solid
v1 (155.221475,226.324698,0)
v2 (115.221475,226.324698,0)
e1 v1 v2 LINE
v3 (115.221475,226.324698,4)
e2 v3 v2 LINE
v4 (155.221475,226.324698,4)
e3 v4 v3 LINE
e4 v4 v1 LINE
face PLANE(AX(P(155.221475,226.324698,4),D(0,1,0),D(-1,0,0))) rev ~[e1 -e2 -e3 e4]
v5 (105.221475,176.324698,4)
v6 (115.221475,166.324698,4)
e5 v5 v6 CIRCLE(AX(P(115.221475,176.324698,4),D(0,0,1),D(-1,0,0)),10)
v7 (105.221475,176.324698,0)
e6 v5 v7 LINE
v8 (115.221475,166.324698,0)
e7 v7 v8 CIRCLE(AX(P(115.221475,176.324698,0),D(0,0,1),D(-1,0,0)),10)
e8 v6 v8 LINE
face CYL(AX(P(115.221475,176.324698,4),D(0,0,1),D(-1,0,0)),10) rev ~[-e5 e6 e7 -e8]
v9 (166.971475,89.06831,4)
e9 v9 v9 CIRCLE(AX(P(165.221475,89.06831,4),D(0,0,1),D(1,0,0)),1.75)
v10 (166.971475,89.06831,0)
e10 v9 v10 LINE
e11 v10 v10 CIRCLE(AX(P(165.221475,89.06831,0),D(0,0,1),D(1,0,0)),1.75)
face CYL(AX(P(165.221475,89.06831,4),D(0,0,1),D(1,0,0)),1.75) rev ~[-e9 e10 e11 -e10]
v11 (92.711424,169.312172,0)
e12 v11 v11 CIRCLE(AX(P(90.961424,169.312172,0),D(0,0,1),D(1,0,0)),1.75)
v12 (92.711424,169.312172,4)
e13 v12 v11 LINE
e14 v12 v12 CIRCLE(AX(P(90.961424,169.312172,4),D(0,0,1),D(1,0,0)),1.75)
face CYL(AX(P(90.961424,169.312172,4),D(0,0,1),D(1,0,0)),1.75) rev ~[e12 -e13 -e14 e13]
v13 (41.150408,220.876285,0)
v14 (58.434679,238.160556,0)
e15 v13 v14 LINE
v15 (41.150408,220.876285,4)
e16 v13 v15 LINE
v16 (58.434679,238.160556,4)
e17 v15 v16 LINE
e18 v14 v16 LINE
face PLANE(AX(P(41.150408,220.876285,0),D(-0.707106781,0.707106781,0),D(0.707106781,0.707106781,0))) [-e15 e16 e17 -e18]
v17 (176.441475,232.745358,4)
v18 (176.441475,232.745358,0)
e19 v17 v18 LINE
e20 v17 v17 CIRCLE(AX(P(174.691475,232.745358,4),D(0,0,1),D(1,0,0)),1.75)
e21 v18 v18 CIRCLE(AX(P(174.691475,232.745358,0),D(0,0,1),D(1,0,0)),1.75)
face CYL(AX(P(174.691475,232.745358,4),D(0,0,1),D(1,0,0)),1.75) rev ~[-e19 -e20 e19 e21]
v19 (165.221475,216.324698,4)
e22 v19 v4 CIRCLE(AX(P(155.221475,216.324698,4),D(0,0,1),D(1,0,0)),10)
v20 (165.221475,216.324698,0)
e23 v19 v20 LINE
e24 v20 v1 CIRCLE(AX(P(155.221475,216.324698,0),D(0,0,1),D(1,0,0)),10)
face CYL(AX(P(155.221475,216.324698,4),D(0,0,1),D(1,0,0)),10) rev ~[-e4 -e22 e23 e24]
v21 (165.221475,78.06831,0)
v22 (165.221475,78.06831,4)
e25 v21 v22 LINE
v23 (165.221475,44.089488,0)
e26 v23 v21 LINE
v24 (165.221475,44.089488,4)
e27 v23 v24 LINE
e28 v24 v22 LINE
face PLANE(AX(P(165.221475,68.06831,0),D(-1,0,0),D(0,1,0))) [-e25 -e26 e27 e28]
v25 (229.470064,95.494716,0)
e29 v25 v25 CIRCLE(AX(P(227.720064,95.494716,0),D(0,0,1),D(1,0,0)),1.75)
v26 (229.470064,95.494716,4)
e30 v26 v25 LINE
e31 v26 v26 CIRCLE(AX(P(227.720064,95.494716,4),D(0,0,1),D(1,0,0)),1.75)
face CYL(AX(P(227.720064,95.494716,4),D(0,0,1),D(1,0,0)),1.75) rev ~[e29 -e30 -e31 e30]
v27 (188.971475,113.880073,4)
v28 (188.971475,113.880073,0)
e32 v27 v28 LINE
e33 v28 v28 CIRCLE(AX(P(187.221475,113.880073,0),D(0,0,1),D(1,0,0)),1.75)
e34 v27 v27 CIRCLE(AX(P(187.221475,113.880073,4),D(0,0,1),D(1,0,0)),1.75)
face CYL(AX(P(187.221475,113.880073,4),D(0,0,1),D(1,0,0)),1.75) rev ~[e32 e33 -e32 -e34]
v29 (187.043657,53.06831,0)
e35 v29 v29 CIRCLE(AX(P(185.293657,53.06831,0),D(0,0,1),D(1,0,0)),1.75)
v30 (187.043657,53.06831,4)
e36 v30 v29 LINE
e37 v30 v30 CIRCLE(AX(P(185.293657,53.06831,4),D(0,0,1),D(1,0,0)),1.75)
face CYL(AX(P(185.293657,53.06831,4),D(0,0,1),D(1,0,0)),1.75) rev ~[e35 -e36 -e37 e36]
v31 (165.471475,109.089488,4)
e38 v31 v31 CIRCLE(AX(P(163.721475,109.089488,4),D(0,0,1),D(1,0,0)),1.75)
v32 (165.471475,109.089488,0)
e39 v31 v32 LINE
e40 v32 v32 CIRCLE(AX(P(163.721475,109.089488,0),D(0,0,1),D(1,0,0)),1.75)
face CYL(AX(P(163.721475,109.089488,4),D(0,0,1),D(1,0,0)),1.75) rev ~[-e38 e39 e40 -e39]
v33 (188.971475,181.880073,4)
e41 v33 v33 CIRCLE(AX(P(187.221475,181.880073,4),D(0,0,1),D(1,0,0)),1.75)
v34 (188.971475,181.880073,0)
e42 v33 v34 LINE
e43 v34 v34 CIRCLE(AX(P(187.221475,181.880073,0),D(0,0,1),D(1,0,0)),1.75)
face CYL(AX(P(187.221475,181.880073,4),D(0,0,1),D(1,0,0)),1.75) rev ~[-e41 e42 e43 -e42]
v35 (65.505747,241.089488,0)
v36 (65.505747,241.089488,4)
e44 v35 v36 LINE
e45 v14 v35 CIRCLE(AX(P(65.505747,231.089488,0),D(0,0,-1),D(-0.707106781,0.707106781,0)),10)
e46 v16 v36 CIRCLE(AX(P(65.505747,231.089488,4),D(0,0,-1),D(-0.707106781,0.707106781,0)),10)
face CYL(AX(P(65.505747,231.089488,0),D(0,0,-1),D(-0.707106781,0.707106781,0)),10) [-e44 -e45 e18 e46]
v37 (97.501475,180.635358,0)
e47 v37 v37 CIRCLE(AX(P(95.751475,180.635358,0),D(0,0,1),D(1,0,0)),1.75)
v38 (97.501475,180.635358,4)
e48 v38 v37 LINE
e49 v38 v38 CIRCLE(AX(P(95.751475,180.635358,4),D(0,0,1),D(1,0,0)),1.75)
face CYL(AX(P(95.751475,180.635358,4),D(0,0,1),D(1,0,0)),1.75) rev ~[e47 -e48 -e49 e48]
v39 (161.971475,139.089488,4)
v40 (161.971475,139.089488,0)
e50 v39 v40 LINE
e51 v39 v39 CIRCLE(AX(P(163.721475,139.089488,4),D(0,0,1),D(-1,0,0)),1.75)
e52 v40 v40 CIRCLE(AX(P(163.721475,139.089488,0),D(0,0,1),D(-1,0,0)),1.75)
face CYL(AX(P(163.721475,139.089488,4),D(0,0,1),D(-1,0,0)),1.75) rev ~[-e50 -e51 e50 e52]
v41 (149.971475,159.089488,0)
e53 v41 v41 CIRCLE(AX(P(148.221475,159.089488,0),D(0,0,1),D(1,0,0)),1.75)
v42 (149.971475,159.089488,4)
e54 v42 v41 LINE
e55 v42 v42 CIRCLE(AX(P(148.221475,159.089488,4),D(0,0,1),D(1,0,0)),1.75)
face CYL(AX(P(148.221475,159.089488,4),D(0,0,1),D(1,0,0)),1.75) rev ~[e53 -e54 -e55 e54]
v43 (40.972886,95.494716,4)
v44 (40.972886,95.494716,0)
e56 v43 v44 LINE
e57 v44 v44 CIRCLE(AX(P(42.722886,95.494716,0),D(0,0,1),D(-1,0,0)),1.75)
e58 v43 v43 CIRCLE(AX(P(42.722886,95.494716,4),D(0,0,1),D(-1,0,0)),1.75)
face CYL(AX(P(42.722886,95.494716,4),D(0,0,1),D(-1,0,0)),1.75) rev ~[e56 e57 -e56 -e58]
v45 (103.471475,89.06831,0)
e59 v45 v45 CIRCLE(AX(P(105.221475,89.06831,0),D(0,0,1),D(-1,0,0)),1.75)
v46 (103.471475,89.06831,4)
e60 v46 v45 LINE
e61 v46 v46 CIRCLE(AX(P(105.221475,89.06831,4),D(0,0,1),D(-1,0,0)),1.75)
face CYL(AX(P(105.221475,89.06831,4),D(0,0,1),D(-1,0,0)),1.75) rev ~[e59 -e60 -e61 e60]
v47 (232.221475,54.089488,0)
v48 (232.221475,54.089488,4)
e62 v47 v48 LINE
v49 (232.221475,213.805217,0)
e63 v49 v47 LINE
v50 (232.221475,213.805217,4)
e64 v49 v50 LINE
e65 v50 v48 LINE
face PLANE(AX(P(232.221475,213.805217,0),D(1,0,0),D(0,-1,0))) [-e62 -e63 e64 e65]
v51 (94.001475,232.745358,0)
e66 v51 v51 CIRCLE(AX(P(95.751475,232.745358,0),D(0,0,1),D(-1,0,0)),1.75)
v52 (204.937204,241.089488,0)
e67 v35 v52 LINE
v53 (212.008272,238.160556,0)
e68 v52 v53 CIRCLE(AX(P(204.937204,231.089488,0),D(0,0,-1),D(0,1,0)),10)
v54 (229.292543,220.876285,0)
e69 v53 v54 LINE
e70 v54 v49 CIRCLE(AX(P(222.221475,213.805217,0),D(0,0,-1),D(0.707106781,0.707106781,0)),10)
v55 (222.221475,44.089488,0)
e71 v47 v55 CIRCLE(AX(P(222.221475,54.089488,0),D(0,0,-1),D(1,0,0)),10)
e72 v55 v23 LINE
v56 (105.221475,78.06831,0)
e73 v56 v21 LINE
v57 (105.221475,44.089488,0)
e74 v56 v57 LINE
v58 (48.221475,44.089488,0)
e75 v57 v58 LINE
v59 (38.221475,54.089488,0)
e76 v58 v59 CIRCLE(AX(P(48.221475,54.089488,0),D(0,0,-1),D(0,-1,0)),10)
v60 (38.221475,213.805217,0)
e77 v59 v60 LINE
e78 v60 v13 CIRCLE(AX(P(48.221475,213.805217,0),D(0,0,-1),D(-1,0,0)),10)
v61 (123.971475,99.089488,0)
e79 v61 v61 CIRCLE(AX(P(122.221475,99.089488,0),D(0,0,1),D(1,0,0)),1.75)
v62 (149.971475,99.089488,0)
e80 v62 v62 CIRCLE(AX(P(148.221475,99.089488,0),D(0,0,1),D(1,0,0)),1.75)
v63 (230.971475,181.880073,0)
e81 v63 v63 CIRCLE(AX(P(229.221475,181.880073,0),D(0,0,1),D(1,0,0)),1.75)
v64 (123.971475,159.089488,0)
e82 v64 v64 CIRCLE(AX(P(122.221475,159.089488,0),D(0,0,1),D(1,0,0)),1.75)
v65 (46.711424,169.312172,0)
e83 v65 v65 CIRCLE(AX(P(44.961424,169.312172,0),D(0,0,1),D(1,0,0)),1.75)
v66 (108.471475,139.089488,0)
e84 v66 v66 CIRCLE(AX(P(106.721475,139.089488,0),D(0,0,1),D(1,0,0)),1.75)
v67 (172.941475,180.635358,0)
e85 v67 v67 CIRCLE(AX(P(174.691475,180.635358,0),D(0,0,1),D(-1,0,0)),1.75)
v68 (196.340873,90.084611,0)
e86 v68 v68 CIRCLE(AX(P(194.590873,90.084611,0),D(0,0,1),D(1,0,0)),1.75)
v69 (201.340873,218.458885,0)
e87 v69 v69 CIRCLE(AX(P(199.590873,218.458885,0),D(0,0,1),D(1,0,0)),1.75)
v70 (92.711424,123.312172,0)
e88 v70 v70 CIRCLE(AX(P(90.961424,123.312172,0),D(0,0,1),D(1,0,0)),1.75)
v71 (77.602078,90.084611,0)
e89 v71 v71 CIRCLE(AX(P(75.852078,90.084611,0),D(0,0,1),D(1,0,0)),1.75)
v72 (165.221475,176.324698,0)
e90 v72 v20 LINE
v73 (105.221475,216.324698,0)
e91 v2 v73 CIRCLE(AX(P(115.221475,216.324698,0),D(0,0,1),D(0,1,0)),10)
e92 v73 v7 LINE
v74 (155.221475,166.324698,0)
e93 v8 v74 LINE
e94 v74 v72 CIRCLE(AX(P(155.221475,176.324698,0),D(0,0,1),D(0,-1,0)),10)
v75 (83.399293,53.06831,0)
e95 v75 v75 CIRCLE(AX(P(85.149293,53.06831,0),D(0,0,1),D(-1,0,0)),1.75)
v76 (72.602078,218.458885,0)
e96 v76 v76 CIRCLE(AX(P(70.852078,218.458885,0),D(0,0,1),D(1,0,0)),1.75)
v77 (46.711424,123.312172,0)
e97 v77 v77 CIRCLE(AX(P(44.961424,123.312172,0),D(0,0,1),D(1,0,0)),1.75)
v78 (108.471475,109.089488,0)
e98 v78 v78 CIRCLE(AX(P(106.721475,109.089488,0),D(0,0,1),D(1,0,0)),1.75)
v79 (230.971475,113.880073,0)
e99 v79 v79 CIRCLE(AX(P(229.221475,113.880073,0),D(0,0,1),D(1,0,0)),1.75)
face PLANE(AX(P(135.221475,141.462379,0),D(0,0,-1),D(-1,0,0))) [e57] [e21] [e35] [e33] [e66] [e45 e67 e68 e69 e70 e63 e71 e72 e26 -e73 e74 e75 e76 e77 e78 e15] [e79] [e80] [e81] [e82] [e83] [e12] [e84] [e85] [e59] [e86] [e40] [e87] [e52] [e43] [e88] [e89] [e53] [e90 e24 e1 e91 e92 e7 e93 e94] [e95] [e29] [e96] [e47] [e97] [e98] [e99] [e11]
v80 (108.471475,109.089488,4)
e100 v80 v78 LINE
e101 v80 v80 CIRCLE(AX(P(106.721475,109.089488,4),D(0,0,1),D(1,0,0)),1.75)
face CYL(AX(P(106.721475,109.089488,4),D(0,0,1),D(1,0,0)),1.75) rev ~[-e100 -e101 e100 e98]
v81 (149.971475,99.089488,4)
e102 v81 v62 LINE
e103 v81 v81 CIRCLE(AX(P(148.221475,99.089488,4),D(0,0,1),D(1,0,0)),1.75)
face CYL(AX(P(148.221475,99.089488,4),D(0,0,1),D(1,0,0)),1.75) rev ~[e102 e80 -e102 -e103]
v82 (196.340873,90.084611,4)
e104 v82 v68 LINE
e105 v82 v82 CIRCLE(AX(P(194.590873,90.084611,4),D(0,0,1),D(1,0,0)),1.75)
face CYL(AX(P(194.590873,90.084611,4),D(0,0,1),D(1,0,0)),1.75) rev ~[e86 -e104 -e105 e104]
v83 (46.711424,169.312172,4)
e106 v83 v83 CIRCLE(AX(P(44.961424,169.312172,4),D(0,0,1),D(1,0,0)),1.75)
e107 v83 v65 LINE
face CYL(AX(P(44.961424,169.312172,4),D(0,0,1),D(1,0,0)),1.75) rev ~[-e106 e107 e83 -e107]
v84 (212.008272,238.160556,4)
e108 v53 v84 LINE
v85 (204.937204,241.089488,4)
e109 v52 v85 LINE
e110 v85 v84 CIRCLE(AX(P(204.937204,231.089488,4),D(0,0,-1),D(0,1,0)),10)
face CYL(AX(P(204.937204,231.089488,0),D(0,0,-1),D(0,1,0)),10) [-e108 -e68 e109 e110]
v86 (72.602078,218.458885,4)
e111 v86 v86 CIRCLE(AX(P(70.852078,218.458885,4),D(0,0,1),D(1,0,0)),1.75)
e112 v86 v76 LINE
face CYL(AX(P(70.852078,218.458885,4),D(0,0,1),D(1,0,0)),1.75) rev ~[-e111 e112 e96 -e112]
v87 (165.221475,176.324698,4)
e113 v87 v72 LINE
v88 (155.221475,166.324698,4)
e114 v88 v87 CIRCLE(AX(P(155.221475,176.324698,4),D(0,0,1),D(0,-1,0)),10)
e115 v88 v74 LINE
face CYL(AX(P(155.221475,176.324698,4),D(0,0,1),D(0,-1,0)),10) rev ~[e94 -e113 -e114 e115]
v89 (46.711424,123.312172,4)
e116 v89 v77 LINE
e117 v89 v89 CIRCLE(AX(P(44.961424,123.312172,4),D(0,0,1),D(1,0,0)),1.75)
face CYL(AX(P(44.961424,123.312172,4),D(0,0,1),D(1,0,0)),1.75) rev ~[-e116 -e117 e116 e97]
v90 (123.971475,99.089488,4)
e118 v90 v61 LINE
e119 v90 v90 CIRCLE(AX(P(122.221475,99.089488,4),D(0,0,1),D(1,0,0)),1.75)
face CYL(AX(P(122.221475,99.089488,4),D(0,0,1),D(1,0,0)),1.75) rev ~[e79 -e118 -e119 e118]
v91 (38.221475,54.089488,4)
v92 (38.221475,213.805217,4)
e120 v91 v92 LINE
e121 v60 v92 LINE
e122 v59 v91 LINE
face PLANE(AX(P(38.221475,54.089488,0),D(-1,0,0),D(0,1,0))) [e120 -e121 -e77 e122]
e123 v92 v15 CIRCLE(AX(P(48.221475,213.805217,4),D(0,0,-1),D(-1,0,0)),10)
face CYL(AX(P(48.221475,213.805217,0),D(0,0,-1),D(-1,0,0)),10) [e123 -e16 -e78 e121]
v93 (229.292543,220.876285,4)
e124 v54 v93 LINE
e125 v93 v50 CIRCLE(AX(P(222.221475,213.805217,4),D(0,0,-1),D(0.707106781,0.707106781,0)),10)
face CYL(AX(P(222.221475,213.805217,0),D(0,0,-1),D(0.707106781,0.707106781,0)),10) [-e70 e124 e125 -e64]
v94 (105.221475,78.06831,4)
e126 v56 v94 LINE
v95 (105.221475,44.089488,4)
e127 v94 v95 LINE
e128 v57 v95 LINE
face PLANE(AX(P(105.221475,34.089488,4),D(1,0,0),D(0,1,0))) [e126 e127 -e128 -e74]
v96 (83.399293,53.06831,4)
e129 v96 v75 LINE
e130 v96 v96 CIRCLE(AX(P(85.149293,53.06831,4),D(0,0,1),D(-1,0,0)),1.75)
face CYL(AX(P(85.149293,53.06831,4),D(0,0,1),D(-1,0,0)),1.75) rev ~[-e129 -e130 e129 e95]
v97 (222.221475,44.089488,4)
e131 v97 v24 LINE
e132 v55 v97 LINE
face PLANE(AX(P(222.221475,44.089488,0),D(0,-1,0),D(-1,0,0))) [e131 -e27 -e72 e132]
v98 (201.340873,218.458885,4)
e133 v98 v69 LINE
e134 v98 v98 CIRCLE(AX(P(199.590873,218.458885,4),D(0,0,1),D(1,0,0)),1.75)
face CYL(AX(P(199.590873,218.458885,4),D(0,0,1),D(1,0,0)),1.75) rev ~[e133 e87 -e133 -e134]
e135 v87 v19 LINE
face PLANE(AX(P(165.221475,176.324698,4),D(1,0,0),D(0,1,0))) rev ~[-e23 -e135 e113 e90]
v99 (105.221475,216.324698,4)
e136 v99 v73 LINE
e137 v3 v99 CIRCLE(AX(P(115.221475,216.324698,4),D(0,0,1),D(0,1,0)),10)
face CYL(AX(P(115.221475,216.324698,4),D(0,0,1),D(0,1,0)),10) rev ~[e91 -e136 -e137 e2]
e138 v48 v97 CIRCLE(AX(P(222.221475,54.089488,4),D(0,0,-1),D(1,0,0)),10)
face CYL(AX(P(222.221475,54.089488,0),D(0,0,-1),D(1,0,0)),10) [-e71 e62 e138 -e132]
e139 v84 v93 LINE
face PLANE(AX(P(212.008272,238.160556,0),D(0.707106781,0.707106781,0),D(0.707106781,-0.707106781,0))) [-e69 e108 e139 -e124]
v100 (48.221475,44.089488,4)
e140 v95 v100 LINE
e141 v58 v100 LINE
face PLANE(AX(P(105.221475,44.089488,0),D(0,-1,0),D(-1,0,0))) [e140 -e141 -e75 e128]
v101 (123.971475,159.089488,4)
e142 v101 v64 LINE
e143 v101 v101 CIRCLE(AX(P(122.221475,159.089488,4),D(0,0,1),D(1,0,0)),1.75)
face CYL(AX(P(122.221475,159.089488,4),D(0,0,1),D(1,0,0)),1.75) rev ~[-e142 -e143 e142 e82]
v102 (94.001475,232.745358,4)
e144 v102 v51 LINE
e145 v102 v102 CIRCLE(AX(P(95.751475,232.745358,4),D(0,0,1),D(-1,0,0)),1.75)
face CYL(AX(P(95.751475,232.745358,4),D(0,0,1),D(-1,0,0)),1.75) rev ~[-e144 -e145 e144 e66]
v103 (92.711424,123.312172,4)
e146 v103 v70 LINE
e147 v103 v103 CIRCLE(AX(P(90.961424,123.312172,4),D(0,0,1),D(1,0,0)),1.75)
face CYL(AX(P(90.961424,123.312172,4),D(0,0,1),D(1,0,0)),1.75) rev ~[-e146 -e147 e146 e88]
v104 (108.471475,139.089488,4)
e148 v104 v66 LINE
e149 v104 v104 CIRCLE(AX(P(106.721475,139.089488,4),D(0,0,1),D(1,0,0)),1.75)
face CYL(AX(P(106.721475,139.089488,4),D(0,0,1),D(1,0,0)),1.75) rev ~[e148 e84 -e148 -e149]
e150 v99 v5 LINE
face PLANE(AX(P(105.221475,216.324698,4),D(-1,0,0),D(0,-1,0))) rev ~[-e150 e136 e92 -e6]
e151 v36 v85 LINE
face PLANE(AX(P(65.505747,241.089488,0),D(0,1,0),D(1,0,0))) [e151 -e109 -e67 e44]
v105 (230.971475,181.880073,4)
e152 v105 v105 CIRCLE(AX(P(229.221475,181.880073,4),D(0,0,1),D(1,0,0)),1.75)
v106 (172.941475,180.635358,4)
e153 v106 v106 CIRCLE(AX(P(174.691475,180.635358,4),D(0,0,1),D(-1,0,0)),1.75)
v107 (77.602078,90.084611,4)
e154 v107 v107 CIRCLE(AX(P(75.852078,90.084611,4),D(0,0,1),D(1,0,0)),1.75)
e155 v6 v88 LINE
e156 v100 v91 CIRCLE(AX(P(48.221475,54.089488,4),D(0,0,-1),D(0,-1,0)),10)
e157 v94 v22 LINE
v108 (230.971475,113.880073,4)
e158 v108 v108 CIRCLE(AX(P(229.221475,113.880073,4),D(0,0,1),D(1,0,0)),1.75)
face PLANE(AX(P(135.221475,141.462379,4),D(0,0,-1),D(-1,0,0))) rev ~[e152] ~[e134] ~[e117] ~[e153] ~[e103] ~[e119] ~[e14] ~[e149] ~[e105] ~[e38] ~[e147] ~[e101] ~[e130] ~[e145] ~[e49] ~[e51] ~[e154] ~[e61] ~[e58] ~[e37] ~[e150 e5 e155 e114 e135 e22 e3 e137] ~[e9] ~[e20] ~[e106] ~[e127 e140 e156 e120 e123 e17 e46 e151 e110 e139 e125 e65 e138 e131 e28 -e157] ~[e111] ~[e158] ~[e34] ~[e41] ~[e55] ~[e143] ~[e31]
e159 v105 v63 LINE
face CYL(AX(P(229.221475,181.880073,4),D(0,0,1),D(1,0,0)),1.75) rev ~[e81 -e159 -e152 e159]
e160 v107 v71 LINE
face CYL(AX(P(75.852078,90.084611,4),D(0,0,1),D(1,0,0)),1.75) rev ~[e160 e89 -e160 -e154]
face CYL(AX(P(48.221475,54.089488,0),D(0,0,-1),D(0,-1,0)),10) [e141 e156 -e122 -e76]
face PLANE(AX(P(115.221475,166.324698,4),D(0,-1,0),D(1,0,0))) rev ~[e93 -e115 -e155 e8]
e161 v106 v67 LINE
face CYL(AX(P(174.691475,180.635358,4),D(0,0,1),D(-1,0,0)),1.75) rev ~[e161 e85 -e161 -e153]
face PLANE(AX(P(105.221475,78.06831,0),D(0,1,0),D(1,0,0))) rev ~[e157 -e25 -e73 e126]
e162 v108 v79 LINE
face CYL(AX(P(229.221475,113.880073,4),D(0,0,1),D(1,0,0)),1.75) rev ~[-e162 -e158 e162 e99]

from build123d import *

# Parameters (mm, degrees)
EXTRUDE_1_DEPTH      = 4
SKETCH_6_R           = 1.75
CUT_EXTRUDE_3_DEPTH  = 4
SKETCH_4_R           = 1.75
CUT_EXTRUDE_4_DEPTH  = 4
SKETCH_7_R           = 1.75
CUT_EXTRUDE_5_DEPTH  = 4
SKETCH_8_R           = 1.75
CUT_EXTRUDE_6_DEPTH  = 4
CUT_EXTRUDE_7_DEPTH  = 4
SKETCH_10_R          = 1.75
SKETCH_10_R_2        = 1.749999998
CUT_EXTRUDE_9_DEPTH  = 4
CUT_EXTRUDE_10_REACH = 358.759
SKETCH_11_R          = 1.75
SKETCH_12_R          = 1.75
CUT_EXTRUDE_13_DEPTH = 357.758930869
SKETCH_13_W          = 60
SKETCH_13_H          = 33.978821531
CUT_EXTRUDE_14_DEPTH = 10
SKETCH_14_W          = 60
SKETCH_14_H          = 10
CUT_EXTRUDE_16_DEPTH = 10


with BuildPart() as part:
    # 草图3 → 凸台-拉伸1 (new body)
    with BuildSketch(Plane.XY):
        with BuildLine():
            Line((73.505746565, 259.089488009), (196.937204075, 259.089488009))
            ThreePointArc((196.937204075, 259.089488009), (204.590872722, 257.56707866), (211.079339699, 253.231623633))
            Line((211.079339699, 253.231623633), (239.363610944, 224.947352388))
            ThreePointArc((239.363610944, 224.947352388), (243.69906597, 218.458885412), (245.22147532, 210.805216764))
            Line((245.22147532, 210.805216764), (245.22147532, 54.089488009))
            ThreePointArc((245.22147532, 54.089488009), (239.363610944, 39.947352386), (225.22147532, 34.089488009))
            Line((225.22147532, 34.089488009), (45.221475318, 34.089488009))
            ThreePointArc((45.221475318, 34.089488009), (31.079339694, 39.947352386), (25.221475318, 54.089488009))
            Line((25.221475318, 54.089488009), (25.221475318, 210.805216762))
            ThreePointArc((25.221475318, 210.805216762), (26.743884667, 218.458885409), (31.079339694, 224.947352386))
            Line((31.079339694, 224.947352386), (59.363610941, 253.231623633))
            ThreePointArc((59.363610941, 253.231623633), (65.852077918, 257.56707866), (73.505746565, 259.089488009))
        make_face()
    extrude(amount=EXTRUDE_1_DEPTH)

    # 草图6 → 切除-拉伸3 (cut)
    with BuildSketch(Plane.XY.offset(4)):
        with Locations((187.22147532, 181.880072532)):
            Circle(SKETCH_6_R)
        with Locations((229.22147532, 181.880072532)):
            Circle(SKETCH_6_R)
        with Locations((229.22147532, 113.880072532)):
            Circle(SKETCH_6_R)
        with Locations((187.22147532, 113.880072532)):
            Circle(SKETCH_6_R)
    extrude(amount=-CUT_EXTRUDE_3_DEPTH, mode=Mode.SUBTRACT)

    # 草图4 → 切除-拉伸4 (cut)
    with BuildSketch(Plane.XY.offset(4)):
        with Locations((174.691475319, 232.74535793)):
            Circle(SKETCH_4_R)
        with Locations(Location((174.691475319, 180.63535793, 0), (0, 0, 180))):
            Circle(SKETCH_4_R)
        with Locations((95.751475319, 180.63535793)):
            Circle(SKETCH_4_R)
        with Locations(Location((95.751475319, 232.74535793, 0), (0, 0, 180))):
            Circle(SKETCH_4_R)
        with Locations((165.22147532, 89.06830954)):
            Circle(SKETCH_4_R)
        with Locations(Location((105.22147532, 89.06830954, 0), (0, 0, 180))):
            Circle(SKETCH_4_R)
    extrude(amount=-CUT_EXTRUDE_4_DEPTH, mode=Mode.SUBTRACT)

    # 草图7 → 切除-拉伸5 (cut)
    with BuildSketch(Plane.XY.offset(4)):
        with Locations((122.221475319, 159.089488009)):
            Circle(SKETCH_7_R)
        with Locations((148.221475319, 159.089488009)):
            Circle(SKETCH_7_R)
        with Locations((122.221475319, 99.089488009)):
            Circle(SKETCH_7_R)
        with Locations((148.221475319, 99.089488009)):
            Circle(SKETCH_7_R)
    extrude(amount=-CUT_EXTRUDE_5_DEPTH, mode=Mode.SUBTRACT)

    # 草图8 → 切除-拉伸6 (cut)
    with BuildSketch(Plane.XY.offset(4)):
        with Locations((227.720064334, 95.494716411)):
            Circle(SKETCH_8_R)
        with Locations((185.293657462, 53.06830954)):
            Circle(SKETCH_8_R)
        with Locations(Location((42.722886307, 95.494716411, 0), (0, 0, 180))):
            Circle(SKETCH_8_R)
        with Locations(Location((85.149293178, 53.06830954, 0), (0, 0, 180))):
            Circle(SKETCH_8_R)
    extrude(amount=-CUT_EXTRUDE_6_DEPTH, mode=Mode.SUBTRACT)

    # 草图9 → 切除-拉伸7 (cut)
    with BuildSketch(Plane.XY.offset(4)):
        with BuildLine():
            Line((115.22147532, 166.324698125), (155.22147532, 166.324698125))
            ThreePointArc((155.22147532, 166.324698125), (162.292543132, 169.253630313), (165.22147532, 176.324698125))
            Line((165.22147532, 176.324698125), (165.22147532, 216.324698125))
            ThreePointArc((165.22147532, 216.324698125), (162.292543132, 223.395765937), (155.22147532, 226.324698125))
            Line((155.22147532, 226.324698125), (135.22147532, 226.324698125))
            Line((135.22147532, 226.324698125), (115.22147532, 226.324698125))
            ThreePointArc((115.22147532, 226.324698125), (108.150407508, 223.395765937), (105.22147532, 216.324698125))
            Line((105.22147532, 216.324698125), (105.22147532, 196.104283633))
            Line((105.22147532, 196.104283633), (105.22147532, 176.324698125))
            ThreePointArc((105.22147532, 176.324698125), (108.150407508, 169.253630313), (115.22147532, 166.324698125))
        make_face()
    extrude(amount=-CUT_EXTRUDE_7_DEPTH, mode=Mode.SUBTRACT)

    # 草图10 → 切除-拉伸9 (cut)
    with BuildSketch(Plane.XY.offset(4)):
        with Locations((106.721475319, 109.089488009)):
            Circle(SKETCH_10_R)
        with Locations((163.721475321, 109.089488009)):
            Circle(SKETCH_10_R_2)
        with Locations((106.721475319, 139.089488009)):
            Circle(SKETCH_10_R)
        with Locations(Location((163.721475321, 139.089488009, 0), (0, 0, 180))):
            Circle(SKETCH_10_R)
    extrude(amount=-CUT_EXTRUDE_9_DEPTH, mode=Mode.SUBTRACT)

    # 草图11 → 切除-拉伸10 (cut, up to next)
    with BuildSketch(Plane.XY.offset(4), mode=Mode.PRIVATE) as cut_extrude_10_sk1:
        with Locations((70.852077918, 218.458885409)):
            Circle(SKETCH_11_R)
    cut_extrude_10_tool1 = extrude(cut_extrude_10_sk1.sketch, amount=-CUT_EXTRUDE_10_REACH, mode=Mode.PRIVATE) & part.part
    # 草图11 → 切除-拉伸10 (cut, up to next)
    with BuildSketch(Plane.XY.offset(4), mode=Mode.PRIVATE) as cut_extrude_10_sk2:
        with Locations((75.852077918, 90.084611013)):
            Circle(SKETCH_11_R)
    cut_extrude_10_tool2 = extrude(cut_extrude_10_sk2.sketch, amount=-CUT_EXTRUDE_10_REACH, mode=Mode.PRIVATE) & part.part
    # 草图11 → 切除-拉伸10 (cut, up to next)
    with BuildSketch(Plane.XY.offset(4), mode=Mode.PRIVATE) as cut_extrude_10_sk3:
        with Locations((194.590872722, 90.084611013)):
            Circle(SKETCH_11_R)
    cut_extrude_10_tool3 = extrude(cut_extrude_10_sk3.sketch, amount=-CUT_EXTRUDE_10_REACH, mode=Mode.PRIVATE) & part.part
    # 草图11 → 切除-拉伸10 (cut, up to next)
    with BuildSketch(Plane.XY.offset(4), mode=Mode.PRIVATE) as cut_extrude_10_sk4:
        with Locations((199.590872722, 218.458885409)):
            Circle(SKETCH_11_R)
    cut_extrude_10_tool4 = extrude(cut_extrude_10_sk4.sketch, amount=-CUT_EXTRUDE_10_REACH, mode=Mode.PRIVATE) & part.part
    add(cut_extrude_10_tool1.solids().sort_by_distance((70.852078, 218.458885, 4))[0], mode=Mode.SUBTRACT)
    add(cut_extrude_10_tool2.solids().sort_by_distance((75.852078, 90.084611, 4))[0], mode=Mode.SUBTRACT)
    add(cut_extrude_10_tool3.solids().sort_by_distance((194.590873, 90.084611, 4))[0], mode=Mode.SUBTRACT)
    add(cut_extrude_10_tool4.solids().sort_by_distance((199.590873, 218.458885, 4))[0], mode=Mode.SUBTRACT)

    # 草图12 → 切除-拉伸13 (cut, through all)
    with BuildSketch(Plane.XY.offset(4)):
        with Locations((90.961423691, 169.312171827)):
            Circle(SKETCH_12_R)
        with Locations((90.961423691, 123.312171827)):
            Circle(SKETCH_12_R)
        with Locations((44.961423691, 123.312171827)):
            Circle(SKETCH_12_R)
        with Locations((44.961423691, 169.312171827)):
            Circle(SKETCH_12_R)
    extrude(amount=-CUT_EXTRUDE_13_DEPTH, mode=Mode.SUBTRACT)

    # 草图13 → 切除-拉伸14 (cut)
    with BuildSketch(Plane.XY.offset(4)):
        with Locations((135.22147532, 51.078898775)):
            Rectangle(SKETCH_13_W, SKETCH_13_H)
    extrude(amount=-CUT_EXTRUDE_14_DEPTH, mode=Mode.SUBTRACT)

    # 草图14 → 切除-拉伸16 (cut)
    with BuildSketch(Plane.XY):
        with BuildLine():
            Line((38.221475318, 210.805216762), (38.221475318, 213.805216762))
            ThreePointArc((38.221475318, 213.805216762), (38.982679993, 217.632051085), (41.150407506, 220.876284574))
            Line((41.150407506, 220.876284574), (58.434678753, 238.160555821))
            ThreePointArc((58.434678753, 238.160555821), (61.678912242, 240.328283334), (65.505746565, 241.089488009))
            Line((65.505746565, 241.089488009), (73.505746565, 241.089488009))
            Line((73.505746565, 241.089488009), (196.937204075, 241.089488009))
            Line((196.937204075, 241.089488009), (204.937204075, 241.089488009))
            ThreePointArc((204.937204075, 241.089488009), (208.764038399, 240.328283334), (212.008271887, 238.160555821))
            Line((212.008271887, 238.160555821), (229.292543132, 220.876284576))
            ThreePointArc((229.292543132, 220.876284576), (231.460270645, 217.632051088), (232.22147532, 213.805216764))
            Line((232.22147532, 213.805216764), (232.22147532, 54.089488009))
            ThreePointArc((232.22147532, 54.089488009), (229.292543132, 47.018420197), (222.22147532, 44.089488009))
            Line((222.22147532, 44.089488009), (175.22147532, 44.089488009))
            Line((175.22147532, 44.089488009), (165.22147532, 44.089488009))
            Line((165.22147532, 44.089488009), (165.22147532, 34.089488009))
            Line((165.22147532, 34.089488009), (225.22147532, 34.089488009))
            ThreePointArc((225.22147532, 34.089488009), (239.363610944, 39.947352386), (245.22147532, 54.089488009))
            Line((245.22147532, 54.089488009), (245.22147532, 210.805216764))
            ThreePointArc((245.22147532, 210.805216764), (243.69906597, 218.458885412), (239.363610944, 224.947352388))
            Line((239.363610944, 224.947352388), (211.079339699, 253.231623633))
            ThreePointArc((211.079339699, 253.231623633), (204.590872722, 257.56707866), (196.937204075, 259.089488009))
            Line((196.937204075, 259.089488009), (73.505746565, 259.089488009))
            ThreePointArc((73.505746565, 259.089488009), (65.852077918, 257.56707866), (59.363610941, 253.231623633))
            Line((59.363610941, 253.231623633), (31.079339694, 224.947352386))
            ThreePointArc((31.079339694, 224.947352386), (26.743884667, 218.458885409), (25.221475318, 210.805216762))
            Line((25.221475318, 210.805216762), (25.221475318, 54.089488009))
            ThreePointArc((25.221475318, 54.089488009), (31.079339694, 39.947352386), (45.221475318, 34.089488009))
            Line((45.221475318, 34.089488009), (105.22147532, 34.089488009))
            Line((105.22147532, 34.089488009), (105.22147532, 44.089488009))
            Line((105.22147532, 44.089488009), (95.22147532, 44.089488009))
            Line((95.22147532, 44.089488009), (48.221475318, 44.089488009))
            ThreePointArc((48.221475318, 44.089488009), (41.150407506, 47.018420197), (38.221475318, 54.089488009))
            Line((38.221475318, 54.089488009), (38.221475318, 210.805216762))
        make_face()
        with Locations((135.22147532, 73.06830954)):
            Rectangle(SKETCH_14_W, SKETCH_14_H)
    extrude(amount=CUT_EXTRUDE_16_DEPTH, mode=Mode.SUBTRACT)


solid = part.part
